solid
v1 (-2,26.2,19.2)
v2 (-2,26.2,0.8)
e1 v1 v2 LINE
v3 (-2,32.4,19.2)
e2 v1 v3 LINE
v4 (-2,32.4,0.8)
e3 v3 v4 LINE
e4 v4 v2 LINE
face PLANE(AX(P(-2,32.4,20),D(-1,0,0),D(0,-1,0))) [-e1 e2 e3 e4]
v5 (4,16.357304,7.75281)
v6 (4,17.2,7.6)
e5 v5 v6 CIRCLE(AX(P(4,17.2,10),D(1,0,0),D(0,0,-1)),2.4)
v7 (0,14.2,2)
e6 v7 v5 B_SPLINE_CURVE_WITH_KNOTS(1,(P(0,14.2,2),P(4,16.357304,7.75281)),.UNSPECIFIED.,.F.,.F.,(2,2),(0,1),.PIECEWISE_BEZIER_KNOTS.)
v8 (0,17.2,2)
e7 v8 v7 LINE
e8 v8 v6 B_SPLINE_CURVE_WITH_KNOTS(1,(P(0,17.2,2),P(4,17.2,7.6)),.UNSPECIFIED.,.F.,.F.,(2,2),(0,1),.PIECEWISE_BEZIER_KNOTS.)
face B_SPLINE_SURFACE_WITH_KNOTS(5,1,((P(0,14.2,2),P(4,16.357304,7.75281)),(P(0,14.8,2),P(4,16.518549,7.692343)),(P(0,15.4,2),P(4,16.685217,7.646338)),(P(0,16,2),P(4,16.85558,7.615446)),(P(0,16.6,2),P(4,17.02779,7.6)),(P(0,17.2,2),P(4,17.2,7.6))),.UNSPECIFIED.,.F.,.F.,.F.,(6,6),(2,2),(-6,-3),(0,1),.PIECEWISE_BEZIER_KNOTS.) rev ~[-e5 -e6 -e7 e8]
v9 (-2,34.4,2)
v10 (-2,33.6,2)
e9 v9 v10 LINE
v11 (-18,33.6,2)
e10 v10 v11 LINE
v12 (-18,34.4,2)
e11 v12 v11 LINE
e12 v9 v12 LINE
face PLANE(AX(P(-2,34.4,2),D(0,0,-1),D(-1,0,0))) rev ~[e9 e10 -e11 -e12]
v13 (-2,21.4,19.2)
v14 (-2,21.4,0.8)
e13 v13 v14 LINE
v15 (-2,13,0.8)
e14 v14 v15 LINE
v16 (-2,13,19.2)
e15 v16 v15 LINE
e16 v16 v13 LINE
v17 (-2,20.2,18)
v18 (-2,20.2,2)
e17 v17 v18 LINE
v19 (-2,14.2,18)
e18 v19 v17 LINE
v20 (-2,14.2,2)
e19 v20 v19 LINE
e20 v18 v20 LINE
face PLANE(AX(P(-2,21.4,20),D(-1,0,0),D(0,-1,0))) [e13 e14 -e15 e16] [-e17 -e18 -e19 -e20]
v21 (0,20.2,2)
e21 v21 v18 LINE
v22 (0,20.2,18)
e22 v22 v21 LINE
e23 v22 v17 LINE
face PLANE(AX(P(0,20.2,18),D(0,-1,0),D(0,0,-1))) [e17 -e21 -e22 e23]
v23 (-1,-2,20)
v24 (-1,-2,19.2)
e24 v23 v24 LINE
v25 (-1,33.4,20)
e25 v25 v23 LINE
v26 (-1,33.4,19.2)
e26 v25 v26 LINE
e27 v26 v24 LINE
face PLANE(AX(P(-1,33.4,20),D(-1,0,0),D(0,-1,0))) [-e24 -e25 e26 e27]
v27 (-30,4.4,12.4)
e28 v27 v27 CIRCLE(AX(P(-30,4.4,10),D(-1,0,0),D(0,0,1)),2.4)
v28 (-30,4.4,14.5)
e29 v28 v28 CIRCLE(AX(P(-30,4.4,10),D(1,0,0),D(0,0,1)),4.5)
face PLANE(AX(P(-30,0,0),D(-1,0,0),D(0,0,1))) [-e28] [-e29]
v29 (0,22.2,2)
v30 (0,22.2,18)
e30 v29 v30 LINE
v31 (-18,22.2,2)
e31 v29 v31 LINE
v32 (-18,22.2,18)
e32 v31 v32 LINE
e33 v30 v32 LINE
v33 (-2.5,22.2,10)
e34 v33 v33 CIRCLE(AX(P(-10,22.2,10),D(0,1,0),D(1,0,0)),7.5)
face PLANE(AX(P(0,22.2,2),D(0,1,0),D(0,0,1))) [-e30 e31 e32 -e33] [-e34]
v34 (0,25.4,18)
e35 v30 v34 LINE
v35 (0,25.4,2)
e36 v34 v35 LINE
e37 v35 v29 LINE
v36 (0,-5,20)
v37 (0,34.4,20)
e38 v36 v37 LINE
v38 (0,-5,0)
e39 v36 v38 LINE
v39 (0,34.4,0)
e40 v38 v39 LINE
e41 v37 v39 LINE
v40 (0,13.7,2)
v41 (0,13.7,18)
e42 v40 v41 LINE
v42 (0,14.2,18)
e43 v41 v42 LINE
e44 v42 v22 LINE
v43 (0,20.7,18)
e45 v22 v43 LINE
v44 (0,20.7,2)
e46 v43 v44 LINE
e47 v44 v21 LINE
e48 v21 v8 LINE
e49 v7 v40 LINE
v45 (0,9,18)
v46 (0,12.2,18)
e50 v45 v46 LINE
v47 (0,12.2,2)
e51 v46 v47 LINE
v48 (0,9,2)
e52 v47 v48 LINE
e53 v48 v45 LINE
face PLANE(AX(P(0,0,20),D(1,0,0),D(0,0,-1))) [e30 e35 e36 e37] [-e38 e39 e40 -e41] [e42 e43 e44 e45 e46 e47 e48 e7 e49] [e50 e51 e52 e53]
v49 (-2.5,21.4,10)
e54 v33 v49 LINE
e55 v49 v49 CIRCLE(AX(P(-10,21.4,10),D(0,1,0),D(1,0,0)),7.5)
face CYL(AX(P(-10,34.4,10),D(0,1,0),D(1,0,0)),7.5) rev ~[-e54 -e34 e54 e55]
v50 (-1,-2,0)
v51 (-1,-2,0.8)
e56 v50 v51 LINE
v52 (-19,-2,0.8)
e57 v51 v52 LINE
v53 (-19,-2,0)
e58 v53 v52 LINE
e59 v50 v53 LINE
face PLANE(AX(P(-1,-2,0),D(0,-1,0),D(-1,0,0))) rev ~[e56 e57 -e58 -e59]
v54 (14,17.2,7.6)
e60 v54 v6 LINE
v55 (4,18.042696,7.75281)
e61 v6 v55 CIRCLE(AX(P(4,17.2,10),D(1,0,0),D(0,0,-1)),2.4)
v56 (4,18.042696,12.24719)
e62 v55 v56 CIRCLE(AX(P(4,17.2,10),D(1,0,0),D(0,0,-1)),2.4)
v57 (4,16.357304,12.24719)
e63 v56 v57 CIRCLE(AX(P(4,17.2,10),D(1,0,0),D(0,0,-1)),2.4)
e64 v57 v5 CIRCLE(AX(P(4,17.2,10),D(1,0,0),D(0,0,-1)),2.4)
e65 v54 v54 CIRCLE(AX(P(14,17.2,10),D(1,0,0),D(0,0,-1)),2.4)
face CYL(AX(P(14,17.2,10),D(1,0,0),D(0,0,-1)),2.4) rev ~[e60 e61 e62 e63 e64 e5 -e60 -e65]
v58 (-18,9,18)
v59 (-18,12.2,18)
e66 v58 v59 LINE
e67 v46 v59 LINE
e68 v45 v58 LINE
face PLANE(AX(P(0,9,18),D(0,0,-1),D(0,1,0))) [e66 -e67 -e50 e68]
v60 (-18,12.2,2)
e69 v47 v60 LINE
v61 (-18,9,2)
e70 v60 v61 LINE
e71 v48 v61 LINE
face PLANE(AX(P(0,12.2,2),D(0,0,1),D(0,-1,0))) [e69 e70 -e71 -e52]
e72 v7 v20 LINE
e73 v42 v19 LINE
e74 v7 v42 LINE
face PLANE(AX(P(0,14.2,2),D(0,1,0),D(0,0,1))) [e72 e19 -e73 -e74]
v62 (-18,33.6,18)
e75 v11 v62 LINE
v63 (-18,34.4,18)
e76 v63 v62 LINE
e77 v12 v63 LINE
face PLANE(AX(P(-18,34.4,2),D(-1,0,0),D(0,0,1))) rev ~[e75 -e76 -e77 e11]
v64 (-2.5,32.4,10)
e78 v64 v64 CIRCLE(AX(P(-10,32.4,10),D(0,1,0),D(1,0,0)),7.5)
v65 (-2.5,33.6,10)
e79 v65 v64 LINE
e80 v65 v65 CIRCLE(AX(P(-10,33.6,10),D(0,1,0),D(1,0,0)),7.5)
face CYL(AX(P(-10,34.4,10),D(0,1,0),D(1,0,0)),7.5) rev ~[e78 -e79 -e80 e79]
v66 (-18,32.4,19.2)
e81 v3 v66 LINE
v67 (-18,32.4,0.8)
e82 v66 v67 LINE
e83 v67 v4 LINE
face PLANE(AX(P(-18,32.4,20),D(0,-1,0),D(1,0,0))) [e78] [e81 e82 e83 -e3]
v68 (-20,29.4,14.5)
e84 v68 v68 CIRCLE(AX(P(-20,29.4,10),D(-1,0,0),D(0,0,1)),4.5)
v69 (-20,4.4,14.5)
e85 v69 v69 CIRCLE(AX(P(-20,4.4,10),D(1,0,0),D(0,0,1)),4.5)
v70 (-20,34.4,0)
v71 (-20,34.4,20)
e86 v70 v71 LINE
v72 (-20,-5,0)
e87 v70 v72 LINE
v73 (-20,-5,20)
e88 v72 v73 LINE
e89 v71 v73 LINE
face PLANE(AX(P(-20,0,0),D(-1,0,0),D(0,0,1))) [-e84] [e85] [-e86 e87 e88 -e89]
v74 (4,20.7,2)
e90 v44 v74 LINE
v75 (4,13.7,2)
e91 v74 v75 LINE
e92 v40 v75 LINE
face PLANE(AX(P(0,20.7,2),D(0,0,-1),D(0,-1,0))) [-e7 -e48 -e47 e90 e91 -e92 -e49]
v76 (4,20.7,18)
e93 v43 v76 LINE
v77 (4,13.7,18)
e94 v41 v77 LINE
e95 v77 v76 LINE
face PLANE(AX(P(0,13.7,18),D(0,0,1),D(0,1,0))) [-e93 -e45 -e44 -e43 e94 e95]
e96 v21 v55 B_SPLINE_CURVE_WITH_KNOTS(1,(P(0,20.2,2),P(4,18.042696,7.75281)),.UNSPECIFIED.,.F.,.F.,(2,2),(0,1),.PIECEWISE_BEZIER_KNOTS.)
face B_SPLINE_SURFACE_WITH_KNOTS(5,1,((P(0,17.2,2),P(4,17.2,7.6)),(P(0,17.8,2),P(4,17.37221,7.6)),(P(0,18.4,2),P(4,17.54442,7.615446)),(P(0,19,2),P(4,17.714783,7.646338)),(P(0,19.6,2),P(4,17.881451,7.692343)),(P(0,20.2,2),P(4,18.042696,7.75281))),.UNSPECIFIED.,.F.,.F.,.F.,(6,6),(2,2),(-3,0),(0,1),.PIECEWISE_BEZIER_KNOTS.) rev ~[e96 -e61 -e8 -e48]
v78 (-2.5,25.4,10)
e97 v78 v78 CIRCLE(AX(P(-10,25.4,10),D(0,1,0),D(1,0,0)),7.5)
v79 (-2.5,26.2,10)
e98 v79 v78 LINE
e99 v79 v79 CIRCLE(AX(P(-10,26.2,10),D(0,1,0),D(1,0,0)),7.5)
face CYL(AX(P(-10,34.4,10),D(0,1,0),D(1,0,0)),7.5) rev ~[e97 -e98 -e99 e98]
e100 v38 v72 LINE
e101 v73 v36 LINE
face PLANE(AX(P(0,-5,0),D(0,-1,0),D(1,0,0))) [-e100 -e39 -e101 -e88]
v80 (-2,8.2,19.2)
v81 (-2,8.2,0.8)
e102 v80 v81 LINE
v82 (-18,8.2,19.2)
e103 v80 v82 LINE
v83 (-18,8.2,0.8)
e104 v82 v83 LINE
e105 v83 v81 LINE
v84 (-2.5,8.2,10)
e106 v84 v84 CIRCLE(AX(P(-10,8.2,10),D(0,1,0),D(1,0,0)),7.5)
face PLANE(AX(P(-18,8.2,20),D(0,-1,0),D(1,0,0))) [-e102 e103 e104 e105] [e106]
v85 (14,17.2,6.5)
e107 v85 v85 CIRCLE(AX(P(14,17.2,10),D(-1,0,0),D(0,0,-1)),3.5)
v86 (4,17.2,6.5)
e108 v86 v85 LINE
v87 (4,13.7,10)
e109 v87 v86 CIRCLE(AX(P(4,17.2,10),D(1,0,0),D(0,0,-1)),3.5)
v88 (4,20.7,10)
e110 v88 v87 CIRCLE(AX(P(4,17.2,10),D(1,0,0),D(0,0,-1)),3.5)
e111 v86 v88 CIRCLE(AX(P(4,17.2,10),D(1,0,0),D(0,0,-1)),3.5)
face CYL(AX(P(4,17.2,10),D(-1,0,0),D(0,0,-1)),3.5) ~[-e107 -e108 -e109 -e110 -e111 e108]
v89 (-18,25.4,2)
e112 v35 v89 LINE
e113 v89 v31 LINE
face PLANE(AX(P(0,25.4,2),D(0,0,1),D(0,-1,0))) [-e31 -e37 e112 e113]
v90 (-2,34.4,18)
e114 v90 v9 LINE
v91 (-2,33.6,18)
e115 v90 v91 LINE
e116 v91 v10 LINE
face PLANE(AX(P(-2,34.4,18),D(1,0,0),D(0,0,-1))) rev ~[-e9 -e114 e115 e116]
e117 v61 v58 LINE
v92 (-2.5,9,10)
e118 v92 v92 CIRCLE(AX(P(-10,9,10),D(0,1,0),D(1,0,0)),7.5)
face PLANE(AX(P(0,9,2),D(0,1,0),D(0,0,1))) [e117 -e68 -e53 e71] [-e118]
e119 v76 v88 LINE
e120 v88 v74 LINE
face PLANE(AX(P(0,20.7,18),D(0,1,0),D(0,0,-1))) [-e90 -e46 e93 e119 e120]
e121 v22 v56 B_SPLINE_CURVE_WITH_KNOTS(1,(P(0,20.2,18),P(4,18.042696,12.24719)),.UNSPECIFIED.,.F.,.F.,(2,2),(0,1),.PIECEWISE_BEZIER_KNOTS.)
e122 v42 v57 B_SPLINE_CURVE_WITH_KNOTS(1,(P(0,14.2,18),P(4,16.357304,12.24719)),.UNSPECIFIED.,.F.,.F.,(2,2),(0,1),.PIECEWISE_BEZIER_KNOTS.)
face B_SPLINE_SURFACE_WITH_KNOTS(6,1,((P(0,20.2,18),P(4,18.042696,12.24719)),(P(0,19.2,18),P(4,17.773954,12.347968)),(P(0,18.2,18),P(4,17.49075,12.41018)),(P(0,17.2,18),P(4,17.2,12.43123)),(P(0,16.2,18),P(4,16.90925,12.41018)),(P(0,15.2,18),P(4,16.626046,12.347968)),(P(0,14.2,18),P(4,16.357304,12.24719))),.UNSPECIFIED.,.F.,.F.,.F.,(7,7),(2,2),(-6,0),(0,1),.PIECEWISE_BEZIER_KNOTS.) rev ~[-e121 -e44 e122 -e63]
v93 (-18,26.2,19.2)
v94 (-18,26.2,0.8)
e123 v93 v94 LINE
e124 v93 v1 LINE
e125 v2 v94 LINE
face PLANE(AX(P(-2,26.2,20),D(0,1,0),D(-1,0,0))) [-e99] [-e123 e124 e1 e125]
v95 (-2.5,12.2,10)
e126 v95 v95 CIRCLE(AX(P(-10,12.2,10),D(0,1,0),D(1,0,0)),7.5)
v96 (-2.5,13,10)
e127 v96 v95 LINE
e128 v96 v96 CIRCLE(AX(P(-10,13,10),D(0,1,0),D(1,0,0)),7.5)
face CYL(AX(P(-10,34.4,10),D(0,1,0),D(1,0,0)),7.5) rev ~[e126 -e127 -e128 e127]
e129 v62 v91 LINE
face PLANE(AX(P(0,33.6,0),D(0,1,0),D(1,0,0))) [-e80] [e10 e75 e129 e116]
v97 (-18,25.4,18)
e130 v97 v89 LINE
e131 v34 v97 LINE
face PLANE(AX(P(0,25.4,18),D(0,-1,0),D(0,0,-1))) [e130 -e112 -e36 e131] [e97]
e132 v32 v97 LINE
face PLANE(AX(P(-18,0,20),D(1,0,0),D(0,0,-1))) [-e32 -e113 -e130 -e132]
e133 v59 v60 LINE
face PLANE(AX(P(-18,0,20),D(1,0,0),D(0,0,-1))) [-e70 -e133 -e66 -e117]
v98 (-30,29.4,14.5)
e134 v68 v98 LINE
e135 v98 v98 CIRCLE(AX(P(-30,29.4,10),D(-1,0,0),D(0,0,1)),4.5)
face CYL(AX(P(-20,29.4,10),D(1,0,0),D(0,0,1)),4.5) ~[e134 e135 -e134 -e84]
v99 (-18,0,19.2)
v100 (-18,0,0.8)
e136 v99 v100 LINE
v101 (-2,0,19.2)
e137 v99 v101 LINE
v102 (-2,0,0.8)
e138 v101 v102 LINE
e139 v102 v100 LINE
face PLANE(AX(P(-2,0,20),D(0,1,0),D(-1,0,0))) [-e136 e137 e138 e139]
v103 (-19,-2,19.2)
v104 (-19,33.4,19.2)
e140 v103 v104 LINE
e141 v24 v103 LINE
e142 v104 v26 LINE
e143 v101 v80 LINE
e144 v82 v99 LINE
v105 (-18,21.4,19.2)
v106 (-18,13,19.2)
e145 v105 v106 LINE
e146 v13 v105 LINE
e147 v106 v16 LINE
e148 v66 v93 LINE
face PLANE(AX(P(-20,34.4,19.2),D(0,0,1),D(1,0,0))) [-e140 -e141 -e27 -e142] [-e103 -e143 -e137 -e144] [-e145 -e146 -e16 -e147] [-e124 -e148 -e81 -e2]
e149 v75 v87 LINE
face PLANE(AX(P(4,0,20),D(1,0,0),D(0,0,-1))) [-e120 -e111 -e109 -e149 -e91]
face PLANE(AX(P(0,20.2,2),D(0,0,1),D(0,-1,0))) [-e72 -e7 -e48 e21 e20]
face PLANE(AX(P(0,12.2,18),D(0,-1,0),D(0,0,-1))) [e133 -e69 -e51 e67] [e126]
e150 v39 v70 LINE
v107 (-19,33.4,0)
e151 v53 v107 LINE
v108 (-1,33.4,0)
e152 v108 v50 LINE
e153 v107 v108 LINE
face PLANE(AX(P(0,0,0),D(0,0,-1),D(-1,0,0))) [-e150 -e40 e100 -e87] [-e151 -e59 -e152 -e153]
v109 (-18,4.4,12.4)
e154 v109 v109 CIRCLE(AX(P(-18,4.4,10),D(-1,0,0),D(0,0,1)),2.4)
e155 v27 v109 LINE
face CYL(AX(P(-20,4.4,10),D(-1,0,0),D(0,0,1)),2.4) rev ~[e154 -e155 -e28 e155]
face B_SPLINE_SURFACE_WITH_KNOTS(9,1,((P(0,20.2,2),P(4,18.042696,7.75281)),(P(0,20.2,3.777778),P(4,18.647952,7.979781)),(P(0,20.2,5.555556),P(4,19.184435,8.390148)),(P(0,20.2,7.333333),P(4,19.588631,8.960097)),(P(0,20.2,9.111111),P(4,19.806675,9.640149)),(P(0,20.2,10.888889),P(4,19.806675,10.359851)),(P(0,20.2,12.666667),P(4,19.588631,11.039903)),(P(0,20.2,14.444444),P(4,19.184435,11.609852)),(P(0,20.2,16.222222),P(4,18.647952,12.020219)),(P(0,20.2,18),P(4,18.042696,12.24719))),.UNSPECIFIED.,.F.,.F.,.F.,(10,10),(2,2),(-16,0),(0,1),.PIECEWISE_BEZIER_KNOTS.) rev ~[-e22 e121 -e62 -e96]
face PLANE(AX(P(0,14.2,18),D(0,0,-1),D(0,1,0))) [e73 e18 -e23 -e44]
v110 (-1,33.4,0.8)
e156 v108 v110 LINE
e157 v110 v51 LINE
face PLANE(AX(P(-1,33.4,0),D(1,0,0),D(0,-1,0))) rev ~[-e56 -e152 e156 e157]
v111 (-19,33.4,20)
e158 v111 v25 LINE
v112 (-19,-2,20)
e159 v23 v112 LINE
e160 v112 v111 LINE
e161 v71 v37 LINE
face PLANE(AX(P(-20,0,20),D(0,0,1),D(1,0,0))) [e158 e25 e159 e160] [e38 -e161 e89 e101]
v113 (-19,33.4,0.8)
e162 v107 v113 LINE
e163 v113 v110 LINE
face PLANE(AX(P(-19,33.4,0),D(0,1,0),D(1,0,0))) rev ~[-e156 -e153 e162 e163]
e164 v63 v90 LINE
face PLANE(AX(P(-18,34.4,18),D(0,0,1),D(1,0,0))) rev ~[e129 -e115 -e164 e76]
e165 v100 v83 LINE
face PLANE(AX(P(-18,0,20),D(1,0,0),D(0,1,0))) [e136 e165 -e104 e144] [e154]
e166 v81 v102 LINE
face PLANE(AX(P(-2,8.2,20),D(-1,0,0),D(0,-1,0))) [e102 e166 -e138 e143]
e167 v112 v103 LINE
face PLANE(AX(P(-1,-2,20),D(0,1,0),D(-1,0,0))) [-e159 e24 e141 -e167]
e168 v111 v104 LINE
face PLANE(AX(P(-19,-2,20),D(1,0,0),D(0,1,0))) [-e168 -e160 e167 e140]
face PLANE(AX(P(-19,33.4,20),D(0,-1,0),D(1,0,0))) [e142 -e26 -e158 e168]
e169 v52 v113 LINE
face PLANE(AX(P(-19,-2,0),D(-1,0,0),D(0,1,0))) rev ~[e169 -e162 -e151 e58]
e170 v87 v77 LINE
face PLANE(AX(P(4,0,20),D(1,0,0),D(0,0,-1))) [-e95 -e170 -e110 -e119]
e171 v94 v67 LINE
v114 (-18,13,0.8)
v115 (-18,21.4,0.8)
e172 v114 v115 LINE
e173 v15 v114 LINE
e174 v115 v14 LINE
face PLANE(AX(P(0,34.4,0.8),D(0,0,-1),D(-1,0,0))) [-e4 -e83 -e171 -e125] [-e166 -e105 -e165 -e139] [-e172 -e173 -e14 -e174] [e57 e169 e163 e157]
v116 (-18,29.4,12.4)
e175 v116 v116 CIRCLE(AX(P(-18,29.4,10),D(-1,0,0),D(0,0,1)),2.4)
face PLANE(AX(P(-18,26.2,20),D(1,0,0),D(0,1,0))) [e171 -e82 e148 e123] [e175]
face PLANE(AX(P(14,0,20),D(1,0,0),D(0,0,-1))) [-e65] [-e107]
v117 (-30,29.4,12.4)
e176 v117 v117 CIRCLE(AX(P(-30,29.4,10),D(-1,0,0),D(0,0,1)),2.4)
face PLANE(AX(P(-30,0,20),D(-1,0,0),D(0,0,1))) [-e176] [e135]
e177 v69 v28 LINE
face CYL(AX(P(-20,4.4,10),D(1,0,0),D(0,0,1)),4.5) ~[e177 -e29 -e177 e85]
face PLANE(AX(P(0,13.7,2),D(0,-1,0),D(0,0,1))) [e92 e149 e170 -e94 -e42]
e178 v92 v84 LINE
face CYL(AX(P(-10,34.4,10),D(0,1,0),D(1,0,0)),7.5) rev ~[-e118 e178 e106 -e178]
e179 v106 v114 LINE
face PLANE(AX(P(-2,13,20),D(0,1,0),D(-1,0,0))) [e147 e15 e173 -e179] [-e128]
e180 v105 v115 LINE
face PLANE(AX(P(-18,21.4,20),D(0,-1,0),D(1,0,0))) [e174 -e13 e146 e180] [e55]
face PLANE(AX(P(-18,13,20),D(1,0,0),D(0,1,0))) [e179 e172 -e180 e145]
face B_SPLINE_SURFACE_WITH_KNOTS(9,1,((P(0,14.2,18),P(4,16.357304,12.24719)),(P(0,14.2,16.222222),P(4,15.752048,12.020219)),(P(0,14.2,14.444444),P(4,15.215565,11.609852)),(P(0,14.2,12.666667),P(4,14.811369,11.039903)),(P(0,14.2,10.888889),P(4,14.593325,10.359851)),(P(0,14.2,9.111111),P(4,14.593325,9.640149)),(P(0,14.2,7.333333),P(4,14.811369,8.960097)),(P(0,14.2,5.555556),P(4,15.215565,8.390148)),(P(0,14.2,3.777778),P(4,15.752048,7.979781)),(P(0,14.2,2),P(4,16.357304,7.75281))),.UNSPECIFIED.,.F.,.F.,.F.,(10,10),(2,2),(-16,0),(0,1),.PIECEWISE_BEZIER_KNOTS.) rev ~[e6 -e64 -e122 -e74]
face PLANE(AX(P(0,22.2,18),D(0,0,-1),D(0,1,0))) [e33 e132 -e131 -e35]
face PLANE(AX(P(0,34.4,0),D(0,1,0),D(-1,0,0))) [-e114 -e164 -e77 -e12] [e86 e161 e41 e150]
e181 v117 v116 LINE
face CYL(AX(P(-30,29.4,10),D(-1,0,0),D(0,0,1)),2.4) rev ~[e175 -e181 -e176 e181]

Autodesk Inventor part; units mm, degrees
ref_plane "YZ Plane" through (0, 0, 0) normal (1, 0, 0) x (0, 1, 0)
ref_plane "XZ Plane" through (0, 0, 0) normal (0, 1, 0) x (-1, 0, 0)
ref_plane "XY Plane" through (0, 0, 0) normal (0, 0, 1) x (1, 0, 0)
sketch "Sketch1" plane through (0, 0, 0) normal (0, 1, 0) x (-1, 0, 0)
  line L0 (0, 0) -> (20, 0)
  line L1 (20, 0) -> (20, 20)
  line L2 (20, 20) -> (0, 20)
  line L3 (0, 20) -> (0, 0)
  dimension "d0" = 20
  dimension "d1" = 20
extrude "Extrusion1" add sketch "Sketch1" along normal blind 34.4
sketch "Sketch2" plane through (0, 34.4, 0) normal (0, 1, 0) x (1, 0, 0)
  circle A0 centre (-10, -10) radius 7.5
  line L0 (0, 0) -> (-20, 0) projected
  line L1 (0, -20) -> (0, 0) projected
  dimension "d4" = 10
  dimension "d5" = 10
  dimension "d6" = 15
extrude "Extrusion2" cut sketch "Sketch2" against normal blind 30
sketch "Sketch3" plane through (0, 0, 20) normal (1, 0, 0) x (0, 0, -1)
  line L0 (2, 12.2) -> (18, 12.2)
  line L1 (18, 12.2) -> (18, 9)
  line L2 (18, 9) -> (2, 9)
  line L3 (2, 9) -> (2, 12.2)
  line L4 (20, 0) -> (20, 34.4) projected
  line L5 (0, 0) -> (20, 0) projected
  dimension "d9" = 3.2
  dimension "d12" = 16
  dimension "d13" = 2
  dimension "d14" = 9
extrude "Extrusion3" cut sketch "Sketch3" against normal blind 18
sketch "Sketch4" plane through (0, 0, 20) normal (1, 0, 0) x (0, 0, -1)
  line L0 (2, 25.4) -> (18, 25.4)
  line L1 (18, 25.4) -> (18, 22.2)
  line L2 (18, 22.2) -> (2, 22.2)
  line L3 (2, 22.2) -> (2, 25.4)
  line L4 (20, 0) -> (20, 34.4) projected
  line L5 (0, 0) -> (20, 0) projected
  line L6 (2, 12.2) -> (18, 12.2) projected
  dimension "d17" = 2
  dimension "d18" = 16
  dimension "d19" = 3.2
  dimension "d21" = 10
extrude "Extrusion4" cut sketch "Sketch4" against normal blind 18
sketch "Sketch5" plane through (0, 34.4, 0) normal (0, 1, 0) x (1, 0, 0)
  line L0 (-18, -18) -> (-2, -18)
  line L1 (-2, -18) -> (-2, -2)
  line L2 (-2, -2) -> (-18, -2)
  line L3 (-18, -2) -> (-18, -18)
  line L4 (-20, 0) -> (-20, -20) projected
  line L5 (-20, -20) -> (0, -20) projected
  line L6 (0, -20) -> (0, 0) projected
  line L7 (0, 0) -> (-20, 0) projected
  dimension "d24" = 2
  dimension "d25" = 2
  dimension "d26" = 2
  dimension "d27" = 2
extrude "Extrusion5" cut sketch "Sketch5" against normal blind 0.8 contours L3 L2 L1 L0
sketch "Sketch10" plane through (0, 0, 20) normal (1, 0, 0) x (0, 0, -1)
  line L0 (2, 20.2) -> (18, 20.2)
  line L1 (18, 20.2) -> (18, 14.2)
  line L2 (18, 14.2) -> (2, 14.2)
  line L3 (2, 14.2) -> (2, 20.2)
  line L4 (18, 22.2) -> (2, 22.2) projected
  line L5 (0, 0) -> (0, 34.4) projected
  line L6 (2, 12.2) -> (18, 12.2) projected
  line L7 (20, 0) -> (20, 34.4) projected
  dimension "d46" = 2
  dimension "d47" = 2
  dimension "d48" = 2
  dimension "d49" = 2
extrude "Extrusion7" cut sketch "Sketch10" against normal blind 17.5
sketch "Sketch6" plane through (0, 0, 20) normal (1, 0, 0) x (0, 0, -1)
  line L0 (2, 20.7) -> (18, 20.7)
  line L1 (18, 20.7) -> (18, 13.7)
  line L2 (18, 13.7) -> (2, 13.7)
  line L3 (2, 13.7) -> (2, 20.7)
  line L4 (0, 0) -> (0, 34.4) projected
  line L5 (20, 0) -> (20, 34.4) projected
  line L6 (18, 22.2) -> (2, 22.2) projected
  line L7 (2, 12.2) -> (18, 12.2) projected
  dimension "d30" = 2
  dimension "d31" = 2
  dimension "d32" = 1.5
  dimension "d33" = 1.5
extrude "Extrusion6" add sketch "Sketch6" along normal blind 4
sketch "Sketch7" plane through (4, 0, 20) normal (1, 0, 0) x (0, 0, -1)
  circle A0 centre (10, 17.2) radius 2.4
  line L0 (18, 20.7) -> (2, 20.7) projected
  line L1 (18, 13.7) -> (18, 20.7) projected
  point P0 (20, 0)
  dimension "d36" = 4.8
  dimension "d37" = 3.5
  dimension "d38" = 8
loft "Loft2" cut profiles "Sketch10", "Sketch7"
sketch "Sketch11" plane through (4, 0, 20) normal (1, 0, 0) x (0, 0, -1)
  circle A0 centre (10, 17.2) radius 3.5
  line L0 (2, 13.7) -> (18, 13.7) projected
  line L1 (18, 13.7) -> (18, 20.7) projected
  point P0 (20, 0)
  dimension "d56" = 7
  dimension "d57" = 3.5
  dimension "d58" = 8
extrude "Extrusion8" add sketch "Sketch11" along normal blind 10
sketch "Sketch12" plane through (14, 17.2, 10) normal (1, 0, 0) x (0, 0, -1)
  circle A0 centre (0, 0) radius 2.4
  circle A1 centre (0, 0) radius 3.5 projected
  line L0 (8, -3.5) -> (8, 3.5) projected
  point P0 (10, -17.2)
  dimension "d62" = 4.8
  dimension "d63" = 0
  dimension "d64" = 8
extrude "Extrusion9" cut sketch "Sketch12" against normal blind 10 contours A0
sketch "Sketch13" plane through (-20, 0, 0) normal (-1, 0, 0) x (0, 0, 1)
  circle A0 centre (10, 4.4) radius 4.5
  line L0 (0, 0) -> (0, 34.4) projected
  line L1 (0, 0) -> (20, 0) projected
  dimension "d67" = 9
  dimension "d68" = 10
  dimension "d69" = 4.4
sketch "Sketch14" plane through (-20, 0, 0) normal (-1, 0, 0) x (0, 0, 1)
  circle A0 centre (10, 4.4) radius 2.4
  line L0 (20, 0) -> (20, 34.4) projected
  line L1 (0, 0) -> (0, 34.4) projected
  line L2 (0, 0) -> (20, 0) projected
  dimension "d71" = 10
  dimension "d72" = 4.4
  dimension "d90" = 4.8
extrude "Extrusion10" cut sketch "Sketch14" against normal blind 4
extrude "Extrusion11" add sketch "Sketch13" along normal blind 10
sketch "Sketch15" plane through (-30, 4.4, 10) normal (-1, 0, 0) x (0, 0, 1)
  circle A0 centre (0, 0) radius 2.4
  point P0 (-10, -4.4)
  dimension "d77" = 4.8
extrude "Extrusion12" cut sketch "Sketch15" against normal blind 10
sketch "Sketch16" plane through (-20, 0, 20) normal (-1, 0, 0) x (0, 0, 1)
  circle A0 centre (-10, 29.4) radius 4.5
  line L0 (0, 0) -> (0, 34.4) projected
  line L1 (-20, 34.4) -> (0, 34.4) projected
  point P0 (-20, 0)
  dimension "d80" = 10
  dimension "d81" = 5
  dimension "d82" = 9
extrude "Extrusion13" add sketch "Sketch16" along normal blind 10
sketch "Sketch17" plane through (-30, 29.4, 10) normal (-1, 0, 0) x (0, 0, 1)
  circle A0 centre (0, 0) radius 2.4
  point P0 (-10, -29.4)
  dimension "d85" = 4.8
extrude "Extrusion14" cut sketch "Sketch17" against normal blind 14
sketch "Sketch18" plane through (0, 0, 0) normal (0, -1, 0) x (1, 0, 0)
  line L0 (-20, 20) -> (0, 20) projected
  line L1 (0, 20) -> (0, 0) projected
  line L2 (-20, 20) -> (0, 20)
  line L3 (0, 20) -> (0, 0)
  line L4 (0, 0) -> (-20, 0)
  line L5 (-20, 0) -> (-20, 20)
extrude "Extrusion15" add sketch "Sketch18" along normal blind 5
sketch "Sketch19" plane through (-20, 34.4, 20) normal (0, 0, 1) x (1, 0, 0)
  line L0 (2, -26.2) -> (18, -26.2)
  line L1 (18, -26.2) -> (18, -34.4)
  line L2 (18, -34.4) -> (2, -34.4)
  line L3 (2, -34.4) -> (2, -26.2)
  line L4 (20, -39.4) -> (0, -39.4) projected
  line L5 (20, -39.4) -> (20, 0) projected
  line L6 (0, -39.4) -> (0, 0) projected
  point P0 (20, -34.4)
  dimension "d91" = 13.2
  dimension "d92" = 5
  dimension "d93" = 2
  dimension "d94" = 2
extrude "Extrusion16" cut sketch "Sketch19" against normal blind 20
sketch "Sketch20" plane through (-20, 34.4, 20) normal (0, 0, 1) x (1, 0, 0)
  line L0 (18, -21.4) -> (2, -21.4)
  line L1 (2, -21.4) -> (2, -13)
  line L2 (2, -13) -> (18, -13)
  line L3 (18, -13) -> (18, -21.4)
  line L4 (0, -39.4) -> (0, 0) projected
  line L5 (20, -39.4) -> (20, 0) projected
  line L6 (20, -39.4) -> (0, -39.4) projected
  point P0 (20, -34.4)
  dimension "d97" = 2
  dimension "d98" = 2
  dimension "d99" = 18
  dimension "d100" = 8.4
extrude "Extrusion17" cut sketch "Sketch20" against normal blind 20
sketch "Sketch21" plane through (-20, 34.4, 20) normal (0, 0, 1) x (1, 0, 0)
  line L0 (18, -8.2) -> (2, -8.2)
  line L1 (2, -8.2) -> (2, -2)
  line L2 (2, -2) -> (18, -2)
  line L3 (18, -2) -> (18, -8.2)
  line L4 (20, -39.4) -> (20, 0) projected
  line L5 (0, -39.4) -> (0, 0) projected
  line L6 (0, 0) -> (20, 0) projected
  point P0 (20, -34.4)
  dimension "d103" = 2
  dimension "d104" = 2
  dimension "d105" = 2
  dimension "d106" = 8.2
extrude "Extrusion18" cut sketch "Sketch21" against normal blind 20
sketch "Sketch22" plane through (-20, 34.4, 20) normal (0, 0, 1) x (1, 0, 0)
  line L0 (1, -1) -> (19, -1)
  line L1 (19, -1) -> (19, -36.4)
  line L2 (19, -36.4) -> (1, -36.4)
  line L3 (1, -36.4) -> (1, -1)
  line L4 (0, 0) -> (20, 0) projected
  line L5 (20, -39.4) -> (20, 0) projected
  line L6 (0, -39.4) -> (0, 0) projected
  line L7 (18, -34.4) -> (2, -34.4) projected
  point P0 (20, -34.4)
  dimension "d109" = 1
  dimension "d110" = 1
  dimension "d112" = 1
  dimension "d115" = 2
extrude "Extrusion19" cut sketch "Sketch22" against normal blind 0.8
sketch "Sketch23" plane through (0, 34.4, 0) normal (0, 0, -1) x (-1, 0, 0)
  line L0 (1, -36.4) -> (19, -36.4)
  line L1 (19, -36.4) -> (19, -1)
  line L2 (19, -1) -> (1, -1)
  line L3 (1, -1) -> (1, -36.4)
  line L4 (0, 0) -> (20, 0) projected
  line L5 (0, 0) -> (0, -39.4) projected
  line L6 (20, -39.4) -> (20, 0) projected
  line L7 (18, -34.4) -> (2, -34.4) projected
  point P0 (0, -34.4)
  dimension "d116" = 1
  dimension "d117" = 1
  dimension "d118" = 1
  dimension "d119" = 2
extrude "Extrusion20" cut sketch "Sketch23" against normal blind 0.8
properties part number "HDAcell_Daniela_thickelecrode_08172020"
